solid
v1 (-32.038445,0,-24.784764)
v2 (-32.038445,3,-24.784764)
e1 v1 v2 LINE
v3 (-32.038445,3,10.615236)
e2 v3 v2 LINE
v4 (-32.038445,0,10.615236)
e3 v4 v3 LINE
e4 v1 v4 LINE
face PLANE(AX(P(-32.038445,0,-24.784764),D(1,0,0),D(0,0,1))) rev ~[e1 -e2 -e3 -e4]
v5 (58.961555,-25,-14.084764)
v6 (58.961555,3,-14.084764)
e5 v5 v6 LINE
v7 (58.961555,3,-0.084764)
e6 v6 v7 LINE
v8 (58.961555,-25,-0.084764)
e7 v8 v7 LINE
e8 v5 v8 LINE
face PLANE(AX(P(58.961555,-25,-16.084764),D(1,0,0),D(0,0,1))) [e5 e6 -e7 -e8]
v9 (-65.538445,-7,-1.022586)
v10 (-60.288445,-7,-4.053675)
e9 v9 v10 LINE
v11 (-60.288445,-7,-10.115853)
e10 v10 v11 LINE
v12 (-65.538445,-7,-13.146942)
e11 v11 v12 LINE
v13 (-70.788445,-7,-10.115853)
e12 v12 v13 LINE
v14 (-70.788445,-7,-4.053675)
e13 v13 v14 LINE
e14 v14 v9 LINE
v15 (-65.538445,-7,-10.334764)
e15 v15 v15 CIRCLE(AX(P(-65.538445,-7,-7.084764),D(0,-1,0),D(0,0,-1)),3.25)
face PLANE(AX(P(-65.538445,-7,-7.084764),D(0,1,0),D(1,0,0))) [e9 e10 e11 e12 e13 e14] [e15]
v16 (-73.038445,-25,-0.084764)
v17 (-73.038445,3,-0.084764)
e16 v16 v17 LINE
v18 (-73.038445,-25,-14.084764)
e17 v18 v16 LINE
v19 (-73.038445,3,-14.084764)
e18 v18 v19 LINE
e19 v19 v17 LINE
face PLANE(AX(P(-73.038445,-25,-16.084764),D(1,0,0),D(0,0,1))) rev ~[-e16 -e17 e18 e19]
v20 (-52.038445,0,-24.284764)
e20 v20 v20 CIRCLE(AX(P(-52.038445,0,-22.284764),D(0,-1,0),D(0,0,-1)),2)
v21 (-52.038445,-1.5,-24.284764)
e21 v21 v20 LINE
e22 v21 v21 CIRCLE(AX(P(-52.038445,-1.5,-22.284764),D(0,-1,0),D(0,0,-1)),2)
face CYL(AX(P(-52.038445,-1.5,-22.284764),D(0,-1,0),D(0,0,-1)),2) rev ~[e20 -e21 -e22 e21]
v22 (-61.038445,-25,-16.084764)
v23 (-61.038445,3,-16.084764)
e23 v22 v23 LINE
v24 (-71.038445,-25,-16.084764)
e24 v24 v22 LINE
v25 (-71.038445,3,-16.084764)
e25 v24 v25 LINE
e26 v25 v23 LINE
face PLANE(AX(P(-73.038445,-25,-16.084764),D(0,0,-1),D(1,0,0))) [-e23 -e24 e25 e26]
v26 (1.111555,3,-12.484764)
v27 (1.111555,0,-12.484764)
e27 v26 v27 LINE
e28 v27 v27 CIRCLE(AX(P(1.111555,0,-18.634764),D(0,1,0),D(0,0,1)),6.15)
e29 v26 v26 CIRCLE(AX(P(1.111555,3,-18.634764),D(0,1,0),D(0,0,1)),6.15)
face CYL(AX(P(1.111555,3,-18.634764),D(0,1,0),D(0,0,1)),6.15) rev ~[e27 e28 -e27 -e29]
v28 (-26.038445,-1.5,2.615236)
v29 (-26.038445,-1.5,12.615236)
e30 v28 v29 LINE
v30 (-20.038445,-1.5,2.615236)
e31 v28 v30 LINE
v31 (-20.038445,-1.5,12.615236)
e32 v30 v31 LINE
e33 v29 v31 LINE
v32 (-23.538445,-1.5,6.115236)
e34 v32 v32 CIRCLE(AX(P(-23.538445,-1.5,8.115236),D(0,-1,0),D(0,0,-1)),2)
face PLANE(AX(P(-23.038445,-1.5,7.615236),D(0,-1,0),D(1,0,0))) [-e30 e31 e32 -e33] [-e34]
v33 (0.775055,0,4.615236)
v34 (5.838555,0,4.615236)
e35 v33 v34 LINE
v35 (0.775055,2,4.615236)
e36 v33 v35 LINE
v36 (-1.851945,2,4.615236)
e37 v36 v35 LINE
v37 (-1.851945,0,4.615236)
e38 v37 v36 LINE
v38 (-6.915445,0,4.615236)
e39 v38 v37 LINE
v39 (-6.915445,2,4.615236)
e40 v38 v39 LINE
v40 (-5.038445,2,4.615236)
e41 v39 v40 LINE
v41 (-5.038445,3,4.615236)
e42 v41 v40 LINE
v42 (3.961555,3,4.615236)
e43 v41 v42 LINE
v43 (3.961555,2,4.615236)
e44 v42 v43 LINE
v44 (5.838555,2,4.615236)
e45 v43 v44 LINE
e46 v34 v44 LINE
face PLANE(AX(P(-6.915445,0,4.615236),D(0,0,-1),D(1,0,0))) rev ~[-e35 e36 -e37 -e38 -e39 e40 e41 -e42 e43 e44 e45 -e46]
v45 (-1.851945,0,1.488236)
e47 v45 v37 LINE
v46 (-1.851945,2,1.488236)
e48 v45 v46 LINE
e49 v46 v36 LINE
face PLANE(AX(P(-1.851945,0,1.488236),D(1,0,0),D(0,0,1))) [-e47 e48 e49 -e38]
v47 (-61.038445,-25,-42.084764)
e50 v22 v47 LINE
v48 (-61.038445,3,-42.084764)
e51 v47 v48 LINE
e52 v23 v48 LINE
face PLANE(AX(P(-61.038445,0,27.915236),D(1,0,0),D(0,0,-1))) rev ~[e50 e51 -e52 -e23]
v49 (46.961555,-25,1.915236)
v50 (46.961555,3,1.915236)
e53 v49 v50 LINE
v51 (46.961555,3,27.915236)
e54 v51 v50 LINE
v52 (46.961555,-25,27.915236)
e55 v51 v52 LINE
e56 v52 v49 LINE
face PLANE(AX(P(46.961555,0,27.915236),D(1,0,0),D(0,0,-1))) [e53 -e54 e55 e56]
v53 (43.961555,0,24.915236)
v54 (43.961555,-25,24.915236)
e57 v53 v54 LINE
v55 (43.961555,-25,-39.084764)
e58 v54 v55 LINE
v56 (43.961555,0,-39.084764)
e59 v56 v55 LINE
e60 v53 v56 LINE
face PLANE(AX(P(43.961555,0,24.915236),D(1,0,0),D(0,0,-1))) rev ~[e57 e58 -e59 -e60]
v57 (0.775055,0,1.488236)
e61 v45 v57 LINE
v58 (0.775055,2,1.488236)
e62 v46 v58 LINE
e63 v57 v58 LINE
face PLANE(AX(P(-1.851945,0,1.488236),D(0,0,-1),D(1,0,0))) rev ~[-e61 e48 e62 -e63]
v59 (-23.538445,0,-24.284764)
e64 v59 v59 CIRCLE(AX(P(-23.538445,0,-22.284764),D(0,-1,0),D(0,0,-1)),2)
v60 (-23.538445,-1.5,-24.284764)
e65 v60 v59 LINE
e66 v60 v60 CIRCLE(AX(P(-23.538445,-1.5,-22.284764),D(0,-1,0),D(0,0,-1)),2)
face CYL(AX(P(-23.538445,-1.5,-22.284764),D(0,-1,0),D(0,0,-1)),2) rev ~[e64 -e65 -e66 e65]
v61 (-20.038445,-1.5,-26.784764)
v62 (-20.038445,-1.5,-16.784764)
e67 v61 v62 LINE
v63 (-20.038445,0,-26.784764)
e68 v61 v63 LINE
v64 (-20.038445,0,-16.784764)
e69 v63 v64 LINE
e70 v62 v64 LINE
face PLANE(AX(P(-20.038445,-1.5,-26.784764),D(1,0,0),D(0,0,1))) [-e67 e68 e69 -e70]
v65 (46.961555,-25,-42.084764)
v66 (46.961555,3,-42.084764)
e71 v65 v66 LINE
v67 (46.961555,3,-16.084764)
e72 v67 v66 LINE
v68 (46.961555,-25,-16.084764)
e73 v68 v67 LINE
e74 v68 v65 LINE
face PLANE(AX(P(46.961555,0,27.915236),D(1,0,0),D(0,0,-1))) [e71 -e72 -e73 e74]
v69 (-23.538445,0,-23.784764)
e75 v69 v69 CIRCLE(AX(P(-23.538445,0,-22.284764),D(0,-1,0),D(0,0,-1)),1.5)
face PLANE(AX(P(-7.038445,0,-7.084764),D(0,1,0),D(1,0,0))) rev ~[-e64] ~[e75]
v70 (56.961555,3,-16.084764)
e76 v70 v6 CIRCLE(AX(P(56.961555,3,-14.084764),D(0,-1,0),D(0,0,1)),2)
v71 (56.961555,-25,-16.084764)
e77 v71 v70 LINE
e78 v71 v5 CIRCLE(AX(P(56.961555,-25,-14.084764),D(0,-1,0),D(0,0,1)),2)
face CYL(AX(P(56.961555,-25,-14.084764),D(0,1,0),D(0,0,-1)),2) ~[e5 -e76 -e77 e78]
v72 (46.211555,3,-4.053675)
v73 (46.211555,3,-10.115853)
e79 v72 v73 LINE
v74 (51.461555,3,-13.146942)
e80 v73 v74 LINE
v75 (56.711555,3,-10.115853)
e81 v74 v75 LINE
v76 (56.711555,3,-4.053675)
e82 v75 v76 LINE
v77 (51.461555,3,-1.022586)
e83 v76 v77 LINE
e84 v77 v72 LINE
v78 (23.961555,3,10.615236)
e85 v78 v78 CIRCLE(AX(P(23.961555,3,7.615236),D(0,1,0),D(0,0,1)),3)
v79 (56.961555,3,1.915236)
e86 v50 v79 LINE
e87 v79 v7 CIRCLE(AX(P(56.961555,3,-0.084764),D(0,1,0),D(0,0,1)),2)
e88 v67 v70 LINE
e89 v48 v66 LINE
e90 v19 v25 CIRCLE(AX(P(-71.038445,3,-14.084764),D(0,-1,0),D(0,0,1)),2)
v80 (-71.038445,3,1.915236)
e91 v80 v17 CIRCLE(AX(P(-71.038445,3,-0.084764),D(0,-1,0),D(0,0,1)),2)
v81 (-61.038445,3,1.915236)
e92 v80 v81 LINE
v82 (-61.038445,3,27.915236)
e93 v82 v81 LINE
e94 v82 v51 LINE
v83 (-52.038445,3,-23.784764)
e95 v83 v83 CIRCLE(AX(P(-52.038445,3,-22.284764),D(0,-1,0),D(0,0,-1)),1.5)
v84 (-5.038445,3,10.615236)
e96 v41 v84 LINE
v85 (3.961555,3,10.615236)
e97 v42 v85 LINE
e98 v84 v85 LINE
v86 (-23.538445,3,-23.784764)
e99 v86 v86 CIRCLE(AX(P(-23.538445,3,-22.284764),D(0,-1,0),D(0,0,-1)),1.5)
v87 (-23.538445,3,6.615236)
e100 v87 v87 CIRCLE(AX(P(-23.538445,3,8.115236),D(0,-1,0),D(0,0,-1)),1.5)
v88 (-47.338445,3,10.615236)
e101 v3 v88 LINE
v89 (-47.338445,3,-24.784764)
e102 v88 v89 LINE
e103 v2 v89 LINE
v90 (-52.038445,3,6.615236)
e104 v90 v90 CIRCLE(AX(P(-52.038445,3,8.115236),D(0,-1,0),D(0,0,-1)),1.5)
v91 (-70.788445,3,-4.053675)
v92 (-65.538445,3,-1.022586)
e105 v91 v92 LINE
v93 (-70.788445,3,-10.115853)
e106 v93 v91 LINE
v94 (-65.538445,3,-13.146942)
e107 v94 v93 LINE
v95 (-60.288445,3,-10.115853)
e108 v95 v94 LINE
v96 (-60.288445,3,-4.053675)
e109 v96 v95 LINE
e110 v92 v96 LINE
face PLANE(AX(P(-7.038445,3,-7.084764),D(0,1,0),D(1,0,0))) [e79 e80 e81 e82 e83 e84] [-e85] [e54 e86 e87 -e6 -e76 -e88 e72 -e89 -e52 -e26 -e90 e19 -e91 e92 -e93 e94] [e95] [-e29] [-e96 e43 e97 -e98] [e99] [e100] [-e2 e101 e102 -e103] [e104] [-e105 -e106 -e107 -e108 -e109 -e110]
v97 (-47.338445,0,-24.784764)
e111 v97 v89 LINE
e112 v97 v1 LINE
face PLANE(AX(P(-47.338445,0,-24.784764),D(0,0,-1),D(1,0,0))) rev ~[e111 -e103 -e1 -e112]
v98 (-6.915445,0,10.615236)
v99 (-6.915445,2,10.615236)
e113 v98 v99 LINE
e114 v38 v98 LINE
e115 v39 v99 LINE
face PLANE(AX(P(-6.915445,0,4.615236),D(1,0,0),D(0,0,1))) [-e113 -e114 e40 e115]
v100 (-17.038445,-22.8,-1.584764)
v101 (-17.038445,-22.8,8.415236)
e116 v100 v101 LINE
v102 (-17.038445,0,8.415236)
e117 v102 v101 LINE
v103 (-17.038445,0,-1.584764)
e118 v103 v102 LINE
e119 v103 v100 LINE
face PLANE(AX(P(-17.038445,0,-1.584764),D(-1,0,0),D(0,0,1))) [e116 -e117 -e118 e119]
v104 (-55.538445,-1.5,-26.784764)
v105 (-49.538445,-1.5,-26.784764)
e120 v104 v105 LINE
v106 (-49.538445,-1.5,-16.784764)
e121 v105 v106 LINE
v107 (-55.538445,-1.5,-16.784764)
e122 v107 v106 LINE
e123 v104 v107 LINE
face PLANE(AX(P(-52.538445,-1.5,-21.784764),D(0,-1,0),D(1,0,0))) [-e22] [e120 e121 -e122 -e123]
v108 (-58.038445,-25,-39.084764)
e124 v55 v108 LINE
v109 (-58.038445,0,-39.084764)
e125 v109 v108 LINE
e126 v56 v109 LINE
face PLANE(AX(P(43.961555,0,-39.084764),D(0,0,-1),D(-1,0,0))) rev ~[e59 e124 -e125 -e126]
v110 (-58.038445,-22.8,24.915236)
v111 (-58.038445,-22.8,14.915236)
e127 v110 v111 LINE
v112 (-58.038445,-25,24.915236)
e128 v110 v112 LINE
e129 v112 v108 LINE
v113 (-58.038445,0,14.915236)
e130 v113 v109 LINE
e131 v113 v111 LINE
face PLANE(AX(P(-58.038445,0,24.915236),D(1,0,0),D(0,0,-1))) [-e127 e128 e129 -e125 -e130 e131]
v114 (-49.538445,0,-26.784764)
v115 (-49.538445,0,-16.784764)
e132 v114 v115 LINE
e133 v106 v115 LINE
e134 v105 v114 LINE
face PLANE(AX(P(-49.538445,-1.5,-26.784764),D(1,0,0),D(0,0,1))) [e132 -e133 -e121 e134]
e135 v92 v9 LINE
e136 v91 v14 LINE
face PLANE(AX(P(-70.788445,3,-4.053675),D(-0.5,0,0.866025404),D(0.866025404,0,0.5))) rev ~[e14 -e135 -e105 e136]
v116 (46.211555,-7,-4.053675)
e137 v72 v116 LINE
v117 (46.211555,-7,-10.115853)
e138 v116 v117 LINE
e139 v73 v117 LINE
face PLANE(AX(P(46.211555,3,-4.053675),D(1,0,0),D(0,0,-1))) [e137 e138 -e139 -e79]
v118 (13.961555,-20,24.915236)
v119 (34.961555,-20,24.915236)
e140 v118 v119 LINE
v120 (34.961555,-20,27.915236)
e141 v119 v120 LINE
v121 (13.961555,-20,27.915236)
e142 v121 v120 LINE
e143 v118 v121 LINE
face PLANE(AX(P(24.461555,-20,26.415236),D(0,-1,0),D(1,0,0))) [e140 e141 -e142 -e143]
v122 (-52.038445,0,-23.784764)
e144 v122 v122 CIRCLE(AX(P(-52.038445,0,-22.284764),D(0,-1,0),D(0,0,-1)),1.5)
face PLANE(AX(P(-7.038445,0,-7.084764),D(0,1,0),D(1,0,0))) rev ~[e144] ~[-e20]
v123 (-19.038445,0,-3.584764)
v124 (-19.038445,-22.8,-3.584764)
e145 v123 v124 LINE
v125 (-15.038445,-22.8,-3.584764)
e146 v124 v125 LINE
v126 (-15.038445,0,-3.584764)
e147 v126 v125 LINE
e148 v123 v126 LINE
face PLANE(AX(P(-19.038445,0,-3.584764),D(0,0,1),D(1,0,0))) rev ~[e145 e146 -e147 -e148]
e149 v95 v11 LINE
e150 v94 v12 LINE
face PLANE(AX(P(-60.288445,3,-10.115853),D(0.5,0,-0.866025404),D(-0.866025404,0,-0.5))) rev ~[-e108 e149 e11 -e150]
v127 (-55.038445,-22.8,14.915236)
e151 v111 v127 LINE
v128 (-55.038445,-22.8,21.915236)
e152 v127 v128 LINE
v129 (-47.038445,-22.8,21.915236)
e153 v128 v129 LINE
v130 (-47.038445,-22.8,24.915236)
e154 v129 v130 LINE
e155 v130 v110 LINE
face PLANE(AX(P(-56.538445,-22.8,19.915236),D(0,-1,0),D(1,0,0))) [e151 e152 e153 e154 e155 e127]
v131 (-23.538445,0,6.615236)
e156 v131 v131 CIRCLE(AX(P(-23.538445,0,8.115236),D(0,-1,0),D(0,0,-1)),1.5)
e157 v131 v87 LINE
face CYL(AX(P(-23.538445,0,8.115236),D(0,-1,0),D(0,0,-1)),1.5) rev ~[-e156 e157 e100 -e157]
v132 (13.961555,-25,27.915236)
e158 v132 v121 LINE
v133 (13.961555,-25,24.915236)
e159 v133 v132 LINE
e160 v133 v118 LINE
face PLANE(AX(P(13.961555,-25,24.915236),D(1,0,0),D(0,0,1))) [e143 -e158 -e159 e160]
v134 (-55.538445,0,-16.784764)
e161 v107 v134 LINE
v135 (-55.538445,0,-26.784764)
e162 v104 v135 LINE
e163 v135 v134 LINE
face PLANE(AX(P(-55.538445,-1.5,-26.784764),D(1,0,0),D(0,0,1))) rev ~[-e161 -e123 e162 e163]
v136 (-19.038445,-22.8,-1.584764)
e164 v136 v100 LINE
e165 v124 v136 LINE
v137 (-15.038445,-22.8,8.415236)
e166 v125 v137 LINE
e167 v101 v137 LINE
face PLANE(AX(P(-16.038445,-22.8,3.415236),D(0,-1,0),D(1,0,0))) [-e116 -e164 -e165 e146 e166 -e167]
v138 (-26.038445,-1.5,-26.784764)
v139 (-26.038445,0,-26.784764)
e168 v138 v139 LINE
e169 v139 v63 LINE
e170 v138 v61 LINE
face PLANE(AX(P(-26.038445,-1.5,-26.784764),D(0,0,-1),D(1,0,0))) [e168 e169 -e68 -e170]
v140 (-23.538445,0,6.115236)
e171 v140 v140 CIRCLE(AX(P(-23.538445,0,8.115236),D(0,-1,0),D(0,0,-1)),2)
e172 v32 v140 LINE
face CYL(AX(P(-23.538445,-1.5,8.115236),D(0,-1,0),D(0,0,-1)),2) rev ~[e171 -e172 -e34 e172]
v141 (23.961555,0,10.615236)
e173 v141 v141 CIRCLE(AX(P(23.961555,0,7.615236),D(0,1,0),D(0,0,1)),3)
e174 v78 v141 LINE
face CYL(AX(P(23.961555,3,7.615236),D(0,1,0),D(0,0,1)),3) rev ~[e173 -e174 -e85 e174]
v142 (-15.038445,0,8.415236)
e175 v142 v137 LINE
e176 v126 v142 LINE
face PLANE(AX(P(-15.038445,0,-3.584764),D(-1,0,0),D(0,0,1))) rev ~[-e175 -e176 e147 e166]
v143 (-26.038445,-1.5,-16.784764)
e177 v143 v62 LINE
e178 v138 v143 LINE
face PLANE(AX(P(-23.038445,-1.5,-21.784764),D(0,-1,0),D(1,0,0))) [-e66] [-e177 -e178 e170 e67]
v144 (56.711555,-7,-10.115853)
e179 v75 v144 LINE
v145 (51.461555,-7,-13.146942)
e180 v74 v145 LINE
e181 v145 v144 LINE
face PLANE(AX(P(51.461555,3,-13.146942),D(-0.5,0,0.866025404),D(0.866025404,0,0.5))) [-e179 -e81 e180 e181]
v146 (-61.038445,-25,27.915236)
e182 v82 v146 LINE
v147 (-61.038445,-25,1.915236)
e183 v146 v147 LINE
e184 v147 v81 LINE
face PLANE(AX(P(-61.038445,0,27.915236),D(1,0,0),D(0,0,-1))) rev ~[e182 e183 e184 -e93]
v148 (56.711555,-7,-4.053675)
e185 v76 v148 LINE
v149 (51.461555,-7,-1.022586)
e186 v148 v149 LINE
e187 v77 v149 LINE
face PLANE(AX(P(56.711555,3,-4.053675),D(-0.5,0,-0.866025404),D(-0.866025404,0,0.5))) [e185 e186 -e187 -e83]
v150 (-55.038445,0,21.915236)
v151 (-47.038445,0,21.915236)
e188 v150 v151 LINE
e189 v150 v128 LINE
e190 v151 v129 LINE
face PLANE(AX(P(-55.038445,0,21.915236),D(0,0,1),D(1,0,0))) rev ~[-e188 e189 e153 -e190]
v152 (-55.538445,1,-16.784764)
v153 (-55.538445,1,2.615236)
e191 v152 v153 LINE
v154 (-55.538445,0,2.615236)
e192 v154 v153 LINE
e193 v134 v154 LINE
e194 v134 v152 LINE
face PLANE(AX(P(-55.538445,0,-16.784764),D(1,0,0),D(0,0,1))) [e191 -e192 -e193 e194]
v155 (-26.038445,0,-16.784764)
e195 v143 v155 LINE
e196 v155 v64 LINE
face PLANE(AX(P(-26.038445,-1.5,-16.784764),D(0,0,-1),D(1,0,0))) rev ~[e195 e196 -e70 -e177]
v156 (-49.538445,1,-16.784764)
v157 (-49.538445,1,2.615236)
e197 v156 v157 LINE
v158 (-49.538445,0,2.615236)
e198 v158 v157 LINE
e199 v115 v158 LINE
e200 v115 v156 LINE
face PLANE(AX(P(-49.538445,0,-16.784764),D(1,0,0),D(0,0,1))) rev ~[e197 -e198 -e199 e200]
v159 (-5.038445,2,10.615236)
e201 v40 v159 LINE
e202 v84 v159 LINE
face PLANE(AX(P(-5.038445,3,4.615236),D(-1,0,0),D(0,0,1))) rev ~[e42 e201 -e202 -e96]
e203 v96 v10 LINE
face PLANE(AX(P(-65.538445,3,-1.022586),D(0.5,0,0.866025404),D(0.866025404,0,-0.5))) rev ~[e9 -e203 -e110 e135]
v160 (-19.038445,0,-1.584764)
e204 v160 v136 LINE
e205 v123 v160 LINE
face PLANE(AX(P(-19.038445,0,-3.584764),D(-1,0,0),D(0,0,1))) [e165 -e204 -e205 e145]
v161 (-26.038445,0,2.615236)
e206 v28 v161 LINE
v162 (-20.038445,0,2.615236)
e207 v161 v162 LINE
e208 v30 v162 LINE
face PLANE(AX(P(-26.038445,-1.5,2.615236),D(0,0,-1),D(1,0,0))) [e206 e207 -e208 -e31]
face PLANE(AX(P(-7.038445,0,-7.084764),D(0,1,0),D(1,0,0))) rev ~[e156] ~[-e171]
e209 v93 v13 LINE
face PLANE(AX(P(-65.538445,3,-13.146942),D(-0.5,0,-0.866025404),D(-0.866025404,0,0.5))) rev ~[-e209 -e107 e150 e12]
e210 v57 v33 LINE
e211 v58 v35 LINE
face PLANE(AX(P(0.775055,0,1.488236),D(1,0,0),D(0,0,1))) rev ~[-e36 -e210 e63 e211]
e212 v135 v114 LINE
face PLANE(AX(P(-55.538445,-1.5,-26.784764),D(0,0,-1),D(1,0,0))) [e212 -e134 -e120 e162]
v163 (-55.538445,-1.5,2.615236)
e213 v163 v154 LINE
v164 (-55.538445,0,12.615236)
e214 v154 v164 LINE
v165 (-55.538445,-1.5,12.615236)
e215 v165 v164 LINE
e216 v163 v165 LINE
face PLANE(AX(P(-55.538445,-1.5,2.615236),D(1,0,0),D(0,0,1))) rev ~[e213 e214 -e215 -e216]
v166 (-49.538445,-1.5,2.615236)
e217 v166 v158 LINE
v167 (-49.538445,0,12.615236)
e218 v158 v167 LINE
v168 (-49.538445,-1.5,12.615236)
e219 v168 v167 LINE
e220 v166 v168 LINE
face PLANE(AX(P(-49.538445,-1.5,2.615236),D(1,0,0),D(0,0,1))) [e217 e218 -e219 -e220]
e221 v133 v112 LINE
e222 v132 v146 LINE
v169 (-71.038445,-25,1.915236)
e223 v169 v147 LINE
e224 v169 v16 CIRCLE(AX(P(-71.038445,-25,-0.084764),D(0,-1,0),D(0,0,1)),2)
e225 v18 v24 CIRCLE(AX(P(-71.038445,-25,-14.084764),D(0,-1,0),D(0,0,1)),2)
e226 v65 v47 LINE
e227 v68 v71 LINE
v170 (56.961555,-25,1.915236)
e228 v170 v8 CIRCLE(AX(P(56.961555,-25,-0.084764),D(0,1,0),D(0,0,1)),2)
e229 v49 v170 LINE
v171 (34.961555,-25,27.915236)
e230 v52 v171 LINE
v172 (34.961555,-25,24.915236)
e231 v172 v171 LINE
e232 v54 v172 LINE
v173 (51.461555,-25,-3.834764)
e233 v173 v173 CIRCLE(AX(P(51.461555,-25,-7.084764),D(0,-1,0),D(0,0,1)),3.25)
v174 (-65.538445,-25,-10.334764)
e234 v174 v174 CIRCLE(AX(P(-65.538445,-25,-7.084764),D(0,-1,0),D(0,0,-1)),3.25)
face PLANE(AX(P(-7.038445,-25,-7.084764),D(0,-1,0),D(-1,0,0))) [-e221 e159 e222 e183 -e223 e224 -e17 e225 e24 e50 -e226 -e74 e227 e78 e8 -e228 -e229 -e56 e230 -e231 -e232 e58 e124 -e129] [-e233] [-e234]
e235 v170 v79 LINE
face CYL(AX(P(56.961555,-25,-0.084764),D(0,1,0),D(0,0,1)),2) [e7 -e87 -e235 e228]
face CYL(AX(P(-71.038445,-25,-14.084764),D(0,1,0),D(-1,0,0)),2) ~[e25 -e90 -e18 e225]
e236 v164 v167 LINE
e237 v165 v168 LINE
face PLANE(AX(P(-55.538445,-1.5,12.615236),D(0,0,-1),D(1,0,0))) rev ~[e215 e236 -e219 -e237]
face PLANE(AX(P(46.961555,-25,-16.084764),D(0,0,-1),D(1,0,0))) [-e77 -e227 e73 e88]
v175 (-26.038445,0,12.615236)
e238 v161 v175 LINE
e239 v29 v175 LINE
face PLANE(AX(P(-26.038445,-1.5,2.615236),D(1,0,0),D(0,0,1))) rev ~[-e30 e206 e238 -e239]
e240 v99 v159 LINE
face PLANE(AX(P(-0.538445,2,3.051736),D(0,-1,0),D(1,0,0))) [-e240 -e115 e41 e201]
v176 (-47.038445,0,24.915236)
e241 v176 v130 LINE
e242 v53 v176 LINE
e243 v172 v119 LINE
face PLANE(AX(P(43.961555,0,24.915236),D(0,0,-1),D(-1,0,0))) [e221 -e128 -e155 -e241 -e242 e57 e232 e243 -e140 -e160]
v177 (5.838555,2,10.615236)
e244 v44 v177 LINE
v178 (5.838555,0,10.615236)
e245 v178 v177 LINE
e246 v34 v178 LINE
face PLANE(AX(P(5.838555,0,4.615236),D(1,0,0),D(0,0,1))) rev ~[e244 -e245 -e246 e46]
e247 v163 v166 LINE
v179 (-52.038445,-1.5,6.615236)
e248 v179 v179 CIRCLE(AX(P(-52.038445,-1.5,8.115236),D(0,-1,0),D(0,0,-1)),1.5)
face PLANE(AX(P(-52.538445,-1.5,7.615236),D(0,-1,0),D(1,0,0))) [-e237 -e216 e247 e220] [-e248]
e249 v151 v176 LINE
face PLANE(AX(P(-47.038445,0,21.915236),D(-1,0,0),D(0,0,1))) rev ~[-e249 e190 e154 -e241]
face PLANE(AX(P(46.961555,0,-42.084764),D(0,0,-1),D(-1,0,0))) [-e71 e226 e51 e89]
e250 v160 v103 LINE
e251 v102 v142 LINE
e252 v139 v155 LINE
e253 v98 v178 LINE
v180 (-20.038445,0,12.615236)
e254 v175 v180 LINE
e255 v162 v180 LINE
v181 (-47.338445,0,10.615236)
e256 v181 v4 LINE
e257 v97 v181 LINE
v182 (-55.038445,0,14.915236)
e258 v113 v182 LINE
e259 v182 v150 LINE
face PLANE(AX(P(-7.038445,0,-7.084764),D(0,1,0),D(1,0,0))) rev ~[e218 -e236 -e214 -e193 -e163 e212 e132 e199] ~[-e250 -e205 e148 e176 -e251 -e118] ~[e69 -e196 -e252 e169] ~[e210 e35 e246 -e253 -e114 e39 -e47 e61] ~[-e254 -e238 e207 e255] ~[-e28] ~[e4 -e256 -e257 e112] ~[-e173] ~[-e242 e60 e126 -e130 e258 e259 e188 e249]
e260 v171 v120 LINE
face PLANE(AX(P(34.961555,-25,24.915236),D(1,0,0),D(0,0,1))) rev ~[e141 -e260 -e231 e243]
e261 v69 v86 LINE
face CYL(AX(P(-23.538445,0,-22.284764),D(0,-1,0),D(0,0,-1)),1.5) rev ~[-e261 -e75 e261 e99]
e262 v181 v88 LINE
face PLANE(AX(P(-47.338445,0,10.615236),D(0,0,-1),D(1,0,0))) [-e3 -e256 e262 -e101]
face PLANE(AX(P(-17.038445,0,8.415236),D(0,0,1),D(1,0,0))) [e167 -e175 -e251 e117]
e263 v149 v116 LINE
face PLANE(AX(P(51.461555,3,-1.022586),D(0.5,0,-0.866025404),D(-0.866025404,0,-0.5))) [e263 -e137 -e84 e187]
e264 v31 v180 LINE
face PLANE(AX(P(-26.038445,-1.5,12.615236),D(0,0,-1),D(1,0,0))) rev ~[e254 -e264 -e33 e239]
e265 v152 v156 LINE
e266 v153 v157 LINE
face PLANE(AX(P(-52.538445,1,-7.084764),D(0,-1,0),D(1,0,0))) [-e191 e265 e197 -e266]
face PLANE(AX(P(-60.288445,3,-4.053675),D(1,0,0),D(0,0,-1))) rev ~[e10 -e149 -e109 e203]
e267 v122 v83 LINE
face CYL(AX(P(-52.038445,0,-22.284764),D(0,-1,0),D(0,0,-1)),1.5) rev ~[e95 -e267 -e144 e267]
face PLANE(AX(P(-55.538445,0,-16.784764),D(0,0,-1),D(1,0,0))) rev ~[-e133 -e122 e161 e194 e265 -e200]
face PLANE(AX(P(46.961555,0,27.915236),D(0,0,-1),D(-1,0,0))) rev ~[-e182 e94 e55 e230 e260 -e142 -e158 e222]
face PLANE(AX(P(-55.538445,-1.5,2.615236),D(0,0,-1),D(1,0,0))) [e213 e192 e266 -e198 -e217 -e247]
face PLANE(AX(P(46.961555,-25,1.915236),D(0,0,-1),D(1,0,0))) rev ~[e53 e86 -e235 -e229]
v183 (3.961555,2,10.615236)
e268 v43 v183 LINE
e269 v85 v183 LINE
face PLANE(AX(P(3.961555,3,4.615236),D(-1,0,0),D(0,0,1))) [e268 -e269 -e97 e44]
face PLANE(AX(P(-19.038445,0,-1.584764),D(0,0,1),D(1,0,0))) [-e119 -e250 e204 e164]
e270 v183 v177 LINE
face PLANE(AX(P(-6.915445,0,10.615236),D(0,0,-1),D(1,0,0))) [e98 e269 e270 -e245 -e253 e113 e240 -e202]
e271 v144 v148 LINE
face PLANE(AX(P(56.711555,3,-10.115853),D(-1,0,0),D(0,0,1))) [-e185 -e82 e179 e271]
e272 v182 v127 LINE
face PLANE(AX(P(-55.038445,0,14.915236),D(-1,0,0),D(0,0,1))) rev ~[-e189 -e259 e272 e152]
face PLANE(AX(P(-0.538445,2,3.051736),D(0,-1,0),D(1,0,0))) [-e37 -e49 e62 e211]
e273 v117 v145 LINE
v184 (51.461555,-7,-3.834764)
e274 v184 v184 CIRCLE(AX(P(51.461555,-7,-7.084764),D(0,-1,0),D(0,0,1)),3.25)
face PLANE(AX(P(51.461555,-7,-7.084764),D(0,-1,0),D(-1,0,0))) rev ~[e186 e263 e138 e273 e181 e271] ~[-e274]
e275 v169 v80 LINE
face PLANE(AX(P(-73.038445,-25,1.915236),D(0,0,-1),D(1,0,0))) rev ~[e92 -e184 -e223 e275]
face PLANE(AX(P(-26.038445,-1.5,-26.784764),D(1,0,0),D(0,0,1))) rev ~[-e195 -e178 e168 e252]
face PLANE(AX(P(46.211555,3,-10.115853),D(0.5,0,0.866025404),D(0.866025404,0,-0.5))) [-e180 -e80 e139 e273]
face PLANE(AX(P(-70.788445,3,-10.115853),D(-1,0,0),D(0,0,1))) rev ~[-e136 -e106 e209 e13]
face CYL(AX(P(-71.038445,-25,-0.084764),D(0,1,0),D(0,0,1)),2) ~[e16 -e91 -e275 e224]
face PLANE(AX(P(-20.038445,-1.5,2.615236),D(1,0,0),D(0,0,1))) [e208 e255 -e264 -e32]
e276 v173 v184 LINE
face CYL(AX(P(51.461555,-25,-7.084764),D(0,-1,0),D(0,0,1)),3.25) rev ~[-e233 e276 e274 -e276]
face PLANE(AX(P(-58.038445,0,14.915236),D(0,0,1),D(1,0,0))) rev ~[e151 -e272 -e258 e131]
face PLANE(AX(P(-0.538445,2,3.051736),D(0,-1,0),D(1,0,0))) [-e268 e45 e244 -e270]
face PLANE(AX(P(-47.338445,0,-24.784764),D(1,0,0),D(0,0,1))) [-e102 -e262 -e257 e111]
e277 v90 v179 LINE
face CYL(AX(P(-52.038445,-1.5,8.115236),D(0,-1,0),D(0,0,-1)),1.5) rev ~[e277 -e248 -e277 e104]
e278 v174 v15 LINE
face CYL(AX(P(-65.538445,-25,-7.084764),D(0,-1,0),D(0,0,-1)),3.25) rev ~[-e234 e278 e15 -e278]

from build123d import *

# Parameters (mm, degrees)
SKETCH2_W           = 108
SKETCH2_H           = 70
BOSS_EXTRUDE1_DEPTH = 3
SKETCH7_W           = 108
SKETCH7_H           = 70
SKETCH7_W_2         = 102
SKETCH7_H_2         = 64
BOSS_EXTRUDE4_DEPTH = 25
SKETCH16_W          = 2
SKETCH16_H          = 10
SKETCH16_W_2        = 8
SKETCH16_H_2        = 3
SKETCH16_W_3        = 4
SKETCH16_H_3        = 2
BOSS_EXTRUDE5_DEPTH = 22.8
SKETCH19_W          = 6
SKETCH19_H          = 19.4
CUT_EXTRUDE10_DEPTH = 1
SKETCH18_R          = 1.5
SKETCH18_W          = 15.3
SKETCH18_H          = 35.4
CUT_EXTRUDE9_DEPTH  = 79.242054464
BOSS_EXTRUDE6_START = 1.5
SKETCH20_W          = 6
SKETCH20_H          = 10
SKETCH20_R          = 1.5
SKETCH20_R_2        = 2
BOSS_EXTRUDE6_DEPTH = 1.5
SKETCH21_W          = 9
SKETCH21_H          = 6
CUT_EXTRUDE11_DEPTH = 1
SKETCH23_W          = 2.627
SKETCH23_H          = 3.127
SKETCH23_W_2        = 12.754
SKETCH23_H_2        = 6
CUT_EXTRUDE13_DEPTH = 2
SKETCH24_R          = 6.15
SKETCH24_R_2        = 3
CUT_EXTRUDE14_DEPTH = 80.251618827
SKETCH28_W          = 21
SKETCH28_H          = 3
CUT_EXTRUDE15_DEPTH = 5
SKETCH31_W          = 12
SKETCH31_H          = 18
SKETCH31_R          = 3.25
BOSS_EXTRUDE8_DEPTH = 28
FILLET1_R           = 2
CUT_EXTRUDE17_DEPTH = 10


with BuildPart() as part:
    # Sketch2 → Boss-Extrude1 (new body)
    with BuildSketch(Plane(origin=(0, 0, 0), x_dir=(1, 0, 0), z_dir=(0, 1, 0))):
        with Locations((-7.038444533, 7.084764176)):
            Rectangle(SKETCH2_W, SKETCH2_H)
    extrude(amount=BOSS_EXTRUDE1_DEPTH)

    # Sketch7 → Boss-Extrude4 (add)
    with BuildSketch(Plane(origin=(0, 0, 0), x_dir=(-1, 0, 0), z_dir=(0, -1, 0))):
        with Locations((7.038444533, 7.084764176)):
            Rectangle(SKETCH7_W, SKETCH7_H)
        with Locations((7.038444533, 7.084764176)):
            Rectangle(SKETCH7_W_2, SKETCH7_H_2, mode=Mode.SUBTRACT)
    extrude(amount=BOSS_EXTRUDE4_DEPTH)

    # Sketch16 → Boss-Extrude5 (add)
    with BuildSketch(Plane.XZ):
        with Locations((-16.038444533, 3.415235824)):
            Rectangle(SKETCH16_W, SKETCH16_H)
        Polygon((-58.038444533, 14.915235824), (-55.038444533, 14.915235824), (-55.038444533, 21.915235824), (-55.038444533, 24.915235824), (-58.038444533, 24.915235824), align=None)
        with Locations((-51.038444533, 23.415235824)):
            Rectangle(SKETCH16_W_2, SKETCH16_H_2)
        with Locations((-17.038444533, -2.584764176)):
            Rectangle(SKETCH16_W_3, SKETCH16_H_3)
    extrude(amount=BOSS_EXTRUDE5_DEPTH)

    # Sketch19 → Cut-Extrude10 (cut)
    with BuildSketch(Plane.XZ):
        with Locations((-52.538444533, -7.084764176)):
            Rectangle(SKETCH19_W, SKETCH19_H)
    extrude(amount=-CUT_EXTRUDE10_DEPTH, mode=Mode.SUBTRACT)

    # Sketch18 → Cut-Extrude9 (cut, through all)
    with BuildSketch(Plane.XZ):
        with Locations(Location((-52.038444533, -22.284764176, 0), (0, 0, 270))):
            Circle(SKETCH18_R)
        with Locations(Location((-23.538444533, -22.284764176, 0), (0, 0, 270))):
            Circle(SKETCH18_R)
        with Locations(Location((-23.538444533, 8.115235824, 0), (0, 0, 270))):
            Circle(SKETCH18_R)
        with Locations(Location((-52.038444533, 8.115235824, 0), (0, 0, 270))):
            Circle(SKETCH18_R)
        with Locations((-39.688444533, -7.084764176)):
            Rectangle(SKETCH18_W, SKETCH18_H)
    extrude(amount=-CUT_EXTRUDE9_DEPTH, mode=Mode.SUBTRACT)

    # Sketch20 → Boss-Extrude6 (add)
    # profile 1 of 4: a face of its own
    with BuildSketch(Plane.XZ.offset(BOSS_EXTRUDE6_START)):
        with Locations((-52.538444533, 7.615235824)):
            Rectangle(SKETCH20_W, SKETCH20_H)
        with Locations(Location((-52.038444533, 8.115235824, 0), (0, 0, 270))):
            Circle(SKETCH20_R, mode=Mode.SUBTRACT)
    # profile 2 of 4: a face of its own
    with BuildSketch(Plane.XZ.offset(BOSS_EXTRUDE6_START)):
        with Locations((-52.538444533, -21.784764176)):
            Rectangle(SKETCH20_W, SKETCH20_H)
        with Locations(Location((-52.038444533, -22.284764176, 0), (0, 0, 270))):
            Circle(SKETCH20_R_2, mode=Mode.SUBTRACT)
    # profile 3 of 4: a face of its own
    with BuildSketch(Plane.XZ.offset(BOSS_EXTRUDE6_START)):
        with Locations((-23.038444533, -21.784764176)):
            Rectangle(SKETCH20_W, SKETCH20_H)
        with Locations(Location((-23.538444533, -22.284764176, 0), (0, 0, 270))):
            Circle(SKETCH20_R_2, mode=Mode.SUBTRACT)
    # profile 4 of 4: a face of its own
    with BuildSketch(Plane.XZ.offset(BOSS_EXTRUDE6_START)):
        with Locations((-23.038444533, 7.615235824)):
            Rectangle(SKETCH20_W, SKETCH20_H)
        with Locations(Location((-23.538444533, 8.115235824, 0), (0, 0, 270))):
            Circle(SKETCH20_R_2, mode=Mode.SUBTRACT)
    extrude(amount=-BOSS_EXTRUDE6_DEPTH)

    # Sketch21 → Cut-Extrude11 (cut)
    with BuildSketch(Plane.XZ.offset(-3)):
        with Locations((-0.538444533, 7.615235824)):
            Rectangle(SKETCH21_W, SKETCH21_H)
    extrude(amount=CUT_EXTRUDE11_DEPTH, mode=Mode.SUBTRACT)

    # Sketch23 → Cut-Extrude13 (cut)
    with BuildSketch(Plane.XZ):
        with Locations((-0.538444533, 3.051735824)):
            Rectangle(SKETCH23_W, SKETCH23_H)
        with Locations((-0.538444533, 7.615235824)):
            Rectangle(SKETCH23_W_2, SKETCH23_H_2)
    extrude(amount=-CUT_EXTRUDE13_DEPTH, mode=Mode.SUBTRACT)

    # Sketch24 → Cut-Extrude14 (cut, through all)
    with BuildSketch(Plane(origin=(0, 3, 0), x_dir=(1, 0, 0), z_dir=(0, 1, 0))):
        with Locations(Location((1.111555467, 18.634764176, 0), (0, 0, 270))):
            Circle(SKETCH24_R)
        with Locations(Location((23.961555467, -7.615235824, 0), (0, 0, 270))):
            Circle(SKETCH24_R_2)
    extrude(amount=-CUT_EXTRUDE14_DEPTH, mode=Mode.SUBTRACT)

    # Sketch28 → Cut-Extrude15 (cut)
    with BuildSketch(Plane.XZ.offset(25)):
        with Locations((24.461555467, 26.415235824)):
            Rectangle(SKETCH28_W, SKETCH28_H)
    extrude(amount=-CUT_EXTRUDE15_DEPTH, mode=Mode.SUBTRACT)

    # Sketch31 → Boss-Extrude8 (add)
    # profile 1 of 2: a face of its own
    with BuildSketch(Plane.XZ.offset(25)):
        with Locations((-67.038444533, -7.084764176)):
            Rectangle(SKETCH31_W, SKETCH31_H)
        with Locations(Location((-65.538444533, -7.084764176, 0), (0, 0, 270))):
            Circle(SKETCH31_R, mode=Mode.SUBTRACT)
    # profile 2 of 2: a face of its own
    with BuildSketch(Plane.XZ.offset(25)):
        with Locations((52.961555467, -7.084764176)):
            Rectangle(SKETCH31_W, SKETCH31_H)
        with Locations(Location((51.461555467, -7.084764176, 0), (0, 0, 90))):
            Circle(SKETCH31_R, mode=Mode.SUBTRACT)
    extrude(amount=-BOSS_EXTRUDE8_DEPTH)

    # Fillet1
    fillet1_edges = [part.edges().sort_by_distance(p)[0] for p in [
        (-73.038444533, -11, -16.084764176),
        (-73.038444533, -11, 1.915235824),
        (58.961555467, -11, 1.915235824),
        (58.961555467, -11, -16.084764176),
    ]]
    fillet(fillet1_edges, radius=FILLET1_R)

    # Sketch32 → Cut-Extrude17 (cut)
    with BuildSketch(Plane(origin=(0, 3, 0), x_dir=(1, 0, 0), z_dir=(0, 1, 0))):
        Polygon((-60.288444533, 4.053675263), (-60.288444533, 10.115853089), (-65.538444533, 13.146942003), (-70.788444533, 10.115853089), (-70.788444533, 4.053675263), (-65.538444533, 1.02258635), align=None)
        Polygon((51.461555467, 1.02258635), (46.211555467, 4.053675263), (46.211555467, 10.115853089), (51.461555467, 13.146942003), (56.711555467, 10.115853089), (56.711555467, 4.053675263), align=None)
    extrude(amount=-CUT_EXTRUDE17_DEPTH, mode=Mode.SUBTRACT)


solid = part.part
